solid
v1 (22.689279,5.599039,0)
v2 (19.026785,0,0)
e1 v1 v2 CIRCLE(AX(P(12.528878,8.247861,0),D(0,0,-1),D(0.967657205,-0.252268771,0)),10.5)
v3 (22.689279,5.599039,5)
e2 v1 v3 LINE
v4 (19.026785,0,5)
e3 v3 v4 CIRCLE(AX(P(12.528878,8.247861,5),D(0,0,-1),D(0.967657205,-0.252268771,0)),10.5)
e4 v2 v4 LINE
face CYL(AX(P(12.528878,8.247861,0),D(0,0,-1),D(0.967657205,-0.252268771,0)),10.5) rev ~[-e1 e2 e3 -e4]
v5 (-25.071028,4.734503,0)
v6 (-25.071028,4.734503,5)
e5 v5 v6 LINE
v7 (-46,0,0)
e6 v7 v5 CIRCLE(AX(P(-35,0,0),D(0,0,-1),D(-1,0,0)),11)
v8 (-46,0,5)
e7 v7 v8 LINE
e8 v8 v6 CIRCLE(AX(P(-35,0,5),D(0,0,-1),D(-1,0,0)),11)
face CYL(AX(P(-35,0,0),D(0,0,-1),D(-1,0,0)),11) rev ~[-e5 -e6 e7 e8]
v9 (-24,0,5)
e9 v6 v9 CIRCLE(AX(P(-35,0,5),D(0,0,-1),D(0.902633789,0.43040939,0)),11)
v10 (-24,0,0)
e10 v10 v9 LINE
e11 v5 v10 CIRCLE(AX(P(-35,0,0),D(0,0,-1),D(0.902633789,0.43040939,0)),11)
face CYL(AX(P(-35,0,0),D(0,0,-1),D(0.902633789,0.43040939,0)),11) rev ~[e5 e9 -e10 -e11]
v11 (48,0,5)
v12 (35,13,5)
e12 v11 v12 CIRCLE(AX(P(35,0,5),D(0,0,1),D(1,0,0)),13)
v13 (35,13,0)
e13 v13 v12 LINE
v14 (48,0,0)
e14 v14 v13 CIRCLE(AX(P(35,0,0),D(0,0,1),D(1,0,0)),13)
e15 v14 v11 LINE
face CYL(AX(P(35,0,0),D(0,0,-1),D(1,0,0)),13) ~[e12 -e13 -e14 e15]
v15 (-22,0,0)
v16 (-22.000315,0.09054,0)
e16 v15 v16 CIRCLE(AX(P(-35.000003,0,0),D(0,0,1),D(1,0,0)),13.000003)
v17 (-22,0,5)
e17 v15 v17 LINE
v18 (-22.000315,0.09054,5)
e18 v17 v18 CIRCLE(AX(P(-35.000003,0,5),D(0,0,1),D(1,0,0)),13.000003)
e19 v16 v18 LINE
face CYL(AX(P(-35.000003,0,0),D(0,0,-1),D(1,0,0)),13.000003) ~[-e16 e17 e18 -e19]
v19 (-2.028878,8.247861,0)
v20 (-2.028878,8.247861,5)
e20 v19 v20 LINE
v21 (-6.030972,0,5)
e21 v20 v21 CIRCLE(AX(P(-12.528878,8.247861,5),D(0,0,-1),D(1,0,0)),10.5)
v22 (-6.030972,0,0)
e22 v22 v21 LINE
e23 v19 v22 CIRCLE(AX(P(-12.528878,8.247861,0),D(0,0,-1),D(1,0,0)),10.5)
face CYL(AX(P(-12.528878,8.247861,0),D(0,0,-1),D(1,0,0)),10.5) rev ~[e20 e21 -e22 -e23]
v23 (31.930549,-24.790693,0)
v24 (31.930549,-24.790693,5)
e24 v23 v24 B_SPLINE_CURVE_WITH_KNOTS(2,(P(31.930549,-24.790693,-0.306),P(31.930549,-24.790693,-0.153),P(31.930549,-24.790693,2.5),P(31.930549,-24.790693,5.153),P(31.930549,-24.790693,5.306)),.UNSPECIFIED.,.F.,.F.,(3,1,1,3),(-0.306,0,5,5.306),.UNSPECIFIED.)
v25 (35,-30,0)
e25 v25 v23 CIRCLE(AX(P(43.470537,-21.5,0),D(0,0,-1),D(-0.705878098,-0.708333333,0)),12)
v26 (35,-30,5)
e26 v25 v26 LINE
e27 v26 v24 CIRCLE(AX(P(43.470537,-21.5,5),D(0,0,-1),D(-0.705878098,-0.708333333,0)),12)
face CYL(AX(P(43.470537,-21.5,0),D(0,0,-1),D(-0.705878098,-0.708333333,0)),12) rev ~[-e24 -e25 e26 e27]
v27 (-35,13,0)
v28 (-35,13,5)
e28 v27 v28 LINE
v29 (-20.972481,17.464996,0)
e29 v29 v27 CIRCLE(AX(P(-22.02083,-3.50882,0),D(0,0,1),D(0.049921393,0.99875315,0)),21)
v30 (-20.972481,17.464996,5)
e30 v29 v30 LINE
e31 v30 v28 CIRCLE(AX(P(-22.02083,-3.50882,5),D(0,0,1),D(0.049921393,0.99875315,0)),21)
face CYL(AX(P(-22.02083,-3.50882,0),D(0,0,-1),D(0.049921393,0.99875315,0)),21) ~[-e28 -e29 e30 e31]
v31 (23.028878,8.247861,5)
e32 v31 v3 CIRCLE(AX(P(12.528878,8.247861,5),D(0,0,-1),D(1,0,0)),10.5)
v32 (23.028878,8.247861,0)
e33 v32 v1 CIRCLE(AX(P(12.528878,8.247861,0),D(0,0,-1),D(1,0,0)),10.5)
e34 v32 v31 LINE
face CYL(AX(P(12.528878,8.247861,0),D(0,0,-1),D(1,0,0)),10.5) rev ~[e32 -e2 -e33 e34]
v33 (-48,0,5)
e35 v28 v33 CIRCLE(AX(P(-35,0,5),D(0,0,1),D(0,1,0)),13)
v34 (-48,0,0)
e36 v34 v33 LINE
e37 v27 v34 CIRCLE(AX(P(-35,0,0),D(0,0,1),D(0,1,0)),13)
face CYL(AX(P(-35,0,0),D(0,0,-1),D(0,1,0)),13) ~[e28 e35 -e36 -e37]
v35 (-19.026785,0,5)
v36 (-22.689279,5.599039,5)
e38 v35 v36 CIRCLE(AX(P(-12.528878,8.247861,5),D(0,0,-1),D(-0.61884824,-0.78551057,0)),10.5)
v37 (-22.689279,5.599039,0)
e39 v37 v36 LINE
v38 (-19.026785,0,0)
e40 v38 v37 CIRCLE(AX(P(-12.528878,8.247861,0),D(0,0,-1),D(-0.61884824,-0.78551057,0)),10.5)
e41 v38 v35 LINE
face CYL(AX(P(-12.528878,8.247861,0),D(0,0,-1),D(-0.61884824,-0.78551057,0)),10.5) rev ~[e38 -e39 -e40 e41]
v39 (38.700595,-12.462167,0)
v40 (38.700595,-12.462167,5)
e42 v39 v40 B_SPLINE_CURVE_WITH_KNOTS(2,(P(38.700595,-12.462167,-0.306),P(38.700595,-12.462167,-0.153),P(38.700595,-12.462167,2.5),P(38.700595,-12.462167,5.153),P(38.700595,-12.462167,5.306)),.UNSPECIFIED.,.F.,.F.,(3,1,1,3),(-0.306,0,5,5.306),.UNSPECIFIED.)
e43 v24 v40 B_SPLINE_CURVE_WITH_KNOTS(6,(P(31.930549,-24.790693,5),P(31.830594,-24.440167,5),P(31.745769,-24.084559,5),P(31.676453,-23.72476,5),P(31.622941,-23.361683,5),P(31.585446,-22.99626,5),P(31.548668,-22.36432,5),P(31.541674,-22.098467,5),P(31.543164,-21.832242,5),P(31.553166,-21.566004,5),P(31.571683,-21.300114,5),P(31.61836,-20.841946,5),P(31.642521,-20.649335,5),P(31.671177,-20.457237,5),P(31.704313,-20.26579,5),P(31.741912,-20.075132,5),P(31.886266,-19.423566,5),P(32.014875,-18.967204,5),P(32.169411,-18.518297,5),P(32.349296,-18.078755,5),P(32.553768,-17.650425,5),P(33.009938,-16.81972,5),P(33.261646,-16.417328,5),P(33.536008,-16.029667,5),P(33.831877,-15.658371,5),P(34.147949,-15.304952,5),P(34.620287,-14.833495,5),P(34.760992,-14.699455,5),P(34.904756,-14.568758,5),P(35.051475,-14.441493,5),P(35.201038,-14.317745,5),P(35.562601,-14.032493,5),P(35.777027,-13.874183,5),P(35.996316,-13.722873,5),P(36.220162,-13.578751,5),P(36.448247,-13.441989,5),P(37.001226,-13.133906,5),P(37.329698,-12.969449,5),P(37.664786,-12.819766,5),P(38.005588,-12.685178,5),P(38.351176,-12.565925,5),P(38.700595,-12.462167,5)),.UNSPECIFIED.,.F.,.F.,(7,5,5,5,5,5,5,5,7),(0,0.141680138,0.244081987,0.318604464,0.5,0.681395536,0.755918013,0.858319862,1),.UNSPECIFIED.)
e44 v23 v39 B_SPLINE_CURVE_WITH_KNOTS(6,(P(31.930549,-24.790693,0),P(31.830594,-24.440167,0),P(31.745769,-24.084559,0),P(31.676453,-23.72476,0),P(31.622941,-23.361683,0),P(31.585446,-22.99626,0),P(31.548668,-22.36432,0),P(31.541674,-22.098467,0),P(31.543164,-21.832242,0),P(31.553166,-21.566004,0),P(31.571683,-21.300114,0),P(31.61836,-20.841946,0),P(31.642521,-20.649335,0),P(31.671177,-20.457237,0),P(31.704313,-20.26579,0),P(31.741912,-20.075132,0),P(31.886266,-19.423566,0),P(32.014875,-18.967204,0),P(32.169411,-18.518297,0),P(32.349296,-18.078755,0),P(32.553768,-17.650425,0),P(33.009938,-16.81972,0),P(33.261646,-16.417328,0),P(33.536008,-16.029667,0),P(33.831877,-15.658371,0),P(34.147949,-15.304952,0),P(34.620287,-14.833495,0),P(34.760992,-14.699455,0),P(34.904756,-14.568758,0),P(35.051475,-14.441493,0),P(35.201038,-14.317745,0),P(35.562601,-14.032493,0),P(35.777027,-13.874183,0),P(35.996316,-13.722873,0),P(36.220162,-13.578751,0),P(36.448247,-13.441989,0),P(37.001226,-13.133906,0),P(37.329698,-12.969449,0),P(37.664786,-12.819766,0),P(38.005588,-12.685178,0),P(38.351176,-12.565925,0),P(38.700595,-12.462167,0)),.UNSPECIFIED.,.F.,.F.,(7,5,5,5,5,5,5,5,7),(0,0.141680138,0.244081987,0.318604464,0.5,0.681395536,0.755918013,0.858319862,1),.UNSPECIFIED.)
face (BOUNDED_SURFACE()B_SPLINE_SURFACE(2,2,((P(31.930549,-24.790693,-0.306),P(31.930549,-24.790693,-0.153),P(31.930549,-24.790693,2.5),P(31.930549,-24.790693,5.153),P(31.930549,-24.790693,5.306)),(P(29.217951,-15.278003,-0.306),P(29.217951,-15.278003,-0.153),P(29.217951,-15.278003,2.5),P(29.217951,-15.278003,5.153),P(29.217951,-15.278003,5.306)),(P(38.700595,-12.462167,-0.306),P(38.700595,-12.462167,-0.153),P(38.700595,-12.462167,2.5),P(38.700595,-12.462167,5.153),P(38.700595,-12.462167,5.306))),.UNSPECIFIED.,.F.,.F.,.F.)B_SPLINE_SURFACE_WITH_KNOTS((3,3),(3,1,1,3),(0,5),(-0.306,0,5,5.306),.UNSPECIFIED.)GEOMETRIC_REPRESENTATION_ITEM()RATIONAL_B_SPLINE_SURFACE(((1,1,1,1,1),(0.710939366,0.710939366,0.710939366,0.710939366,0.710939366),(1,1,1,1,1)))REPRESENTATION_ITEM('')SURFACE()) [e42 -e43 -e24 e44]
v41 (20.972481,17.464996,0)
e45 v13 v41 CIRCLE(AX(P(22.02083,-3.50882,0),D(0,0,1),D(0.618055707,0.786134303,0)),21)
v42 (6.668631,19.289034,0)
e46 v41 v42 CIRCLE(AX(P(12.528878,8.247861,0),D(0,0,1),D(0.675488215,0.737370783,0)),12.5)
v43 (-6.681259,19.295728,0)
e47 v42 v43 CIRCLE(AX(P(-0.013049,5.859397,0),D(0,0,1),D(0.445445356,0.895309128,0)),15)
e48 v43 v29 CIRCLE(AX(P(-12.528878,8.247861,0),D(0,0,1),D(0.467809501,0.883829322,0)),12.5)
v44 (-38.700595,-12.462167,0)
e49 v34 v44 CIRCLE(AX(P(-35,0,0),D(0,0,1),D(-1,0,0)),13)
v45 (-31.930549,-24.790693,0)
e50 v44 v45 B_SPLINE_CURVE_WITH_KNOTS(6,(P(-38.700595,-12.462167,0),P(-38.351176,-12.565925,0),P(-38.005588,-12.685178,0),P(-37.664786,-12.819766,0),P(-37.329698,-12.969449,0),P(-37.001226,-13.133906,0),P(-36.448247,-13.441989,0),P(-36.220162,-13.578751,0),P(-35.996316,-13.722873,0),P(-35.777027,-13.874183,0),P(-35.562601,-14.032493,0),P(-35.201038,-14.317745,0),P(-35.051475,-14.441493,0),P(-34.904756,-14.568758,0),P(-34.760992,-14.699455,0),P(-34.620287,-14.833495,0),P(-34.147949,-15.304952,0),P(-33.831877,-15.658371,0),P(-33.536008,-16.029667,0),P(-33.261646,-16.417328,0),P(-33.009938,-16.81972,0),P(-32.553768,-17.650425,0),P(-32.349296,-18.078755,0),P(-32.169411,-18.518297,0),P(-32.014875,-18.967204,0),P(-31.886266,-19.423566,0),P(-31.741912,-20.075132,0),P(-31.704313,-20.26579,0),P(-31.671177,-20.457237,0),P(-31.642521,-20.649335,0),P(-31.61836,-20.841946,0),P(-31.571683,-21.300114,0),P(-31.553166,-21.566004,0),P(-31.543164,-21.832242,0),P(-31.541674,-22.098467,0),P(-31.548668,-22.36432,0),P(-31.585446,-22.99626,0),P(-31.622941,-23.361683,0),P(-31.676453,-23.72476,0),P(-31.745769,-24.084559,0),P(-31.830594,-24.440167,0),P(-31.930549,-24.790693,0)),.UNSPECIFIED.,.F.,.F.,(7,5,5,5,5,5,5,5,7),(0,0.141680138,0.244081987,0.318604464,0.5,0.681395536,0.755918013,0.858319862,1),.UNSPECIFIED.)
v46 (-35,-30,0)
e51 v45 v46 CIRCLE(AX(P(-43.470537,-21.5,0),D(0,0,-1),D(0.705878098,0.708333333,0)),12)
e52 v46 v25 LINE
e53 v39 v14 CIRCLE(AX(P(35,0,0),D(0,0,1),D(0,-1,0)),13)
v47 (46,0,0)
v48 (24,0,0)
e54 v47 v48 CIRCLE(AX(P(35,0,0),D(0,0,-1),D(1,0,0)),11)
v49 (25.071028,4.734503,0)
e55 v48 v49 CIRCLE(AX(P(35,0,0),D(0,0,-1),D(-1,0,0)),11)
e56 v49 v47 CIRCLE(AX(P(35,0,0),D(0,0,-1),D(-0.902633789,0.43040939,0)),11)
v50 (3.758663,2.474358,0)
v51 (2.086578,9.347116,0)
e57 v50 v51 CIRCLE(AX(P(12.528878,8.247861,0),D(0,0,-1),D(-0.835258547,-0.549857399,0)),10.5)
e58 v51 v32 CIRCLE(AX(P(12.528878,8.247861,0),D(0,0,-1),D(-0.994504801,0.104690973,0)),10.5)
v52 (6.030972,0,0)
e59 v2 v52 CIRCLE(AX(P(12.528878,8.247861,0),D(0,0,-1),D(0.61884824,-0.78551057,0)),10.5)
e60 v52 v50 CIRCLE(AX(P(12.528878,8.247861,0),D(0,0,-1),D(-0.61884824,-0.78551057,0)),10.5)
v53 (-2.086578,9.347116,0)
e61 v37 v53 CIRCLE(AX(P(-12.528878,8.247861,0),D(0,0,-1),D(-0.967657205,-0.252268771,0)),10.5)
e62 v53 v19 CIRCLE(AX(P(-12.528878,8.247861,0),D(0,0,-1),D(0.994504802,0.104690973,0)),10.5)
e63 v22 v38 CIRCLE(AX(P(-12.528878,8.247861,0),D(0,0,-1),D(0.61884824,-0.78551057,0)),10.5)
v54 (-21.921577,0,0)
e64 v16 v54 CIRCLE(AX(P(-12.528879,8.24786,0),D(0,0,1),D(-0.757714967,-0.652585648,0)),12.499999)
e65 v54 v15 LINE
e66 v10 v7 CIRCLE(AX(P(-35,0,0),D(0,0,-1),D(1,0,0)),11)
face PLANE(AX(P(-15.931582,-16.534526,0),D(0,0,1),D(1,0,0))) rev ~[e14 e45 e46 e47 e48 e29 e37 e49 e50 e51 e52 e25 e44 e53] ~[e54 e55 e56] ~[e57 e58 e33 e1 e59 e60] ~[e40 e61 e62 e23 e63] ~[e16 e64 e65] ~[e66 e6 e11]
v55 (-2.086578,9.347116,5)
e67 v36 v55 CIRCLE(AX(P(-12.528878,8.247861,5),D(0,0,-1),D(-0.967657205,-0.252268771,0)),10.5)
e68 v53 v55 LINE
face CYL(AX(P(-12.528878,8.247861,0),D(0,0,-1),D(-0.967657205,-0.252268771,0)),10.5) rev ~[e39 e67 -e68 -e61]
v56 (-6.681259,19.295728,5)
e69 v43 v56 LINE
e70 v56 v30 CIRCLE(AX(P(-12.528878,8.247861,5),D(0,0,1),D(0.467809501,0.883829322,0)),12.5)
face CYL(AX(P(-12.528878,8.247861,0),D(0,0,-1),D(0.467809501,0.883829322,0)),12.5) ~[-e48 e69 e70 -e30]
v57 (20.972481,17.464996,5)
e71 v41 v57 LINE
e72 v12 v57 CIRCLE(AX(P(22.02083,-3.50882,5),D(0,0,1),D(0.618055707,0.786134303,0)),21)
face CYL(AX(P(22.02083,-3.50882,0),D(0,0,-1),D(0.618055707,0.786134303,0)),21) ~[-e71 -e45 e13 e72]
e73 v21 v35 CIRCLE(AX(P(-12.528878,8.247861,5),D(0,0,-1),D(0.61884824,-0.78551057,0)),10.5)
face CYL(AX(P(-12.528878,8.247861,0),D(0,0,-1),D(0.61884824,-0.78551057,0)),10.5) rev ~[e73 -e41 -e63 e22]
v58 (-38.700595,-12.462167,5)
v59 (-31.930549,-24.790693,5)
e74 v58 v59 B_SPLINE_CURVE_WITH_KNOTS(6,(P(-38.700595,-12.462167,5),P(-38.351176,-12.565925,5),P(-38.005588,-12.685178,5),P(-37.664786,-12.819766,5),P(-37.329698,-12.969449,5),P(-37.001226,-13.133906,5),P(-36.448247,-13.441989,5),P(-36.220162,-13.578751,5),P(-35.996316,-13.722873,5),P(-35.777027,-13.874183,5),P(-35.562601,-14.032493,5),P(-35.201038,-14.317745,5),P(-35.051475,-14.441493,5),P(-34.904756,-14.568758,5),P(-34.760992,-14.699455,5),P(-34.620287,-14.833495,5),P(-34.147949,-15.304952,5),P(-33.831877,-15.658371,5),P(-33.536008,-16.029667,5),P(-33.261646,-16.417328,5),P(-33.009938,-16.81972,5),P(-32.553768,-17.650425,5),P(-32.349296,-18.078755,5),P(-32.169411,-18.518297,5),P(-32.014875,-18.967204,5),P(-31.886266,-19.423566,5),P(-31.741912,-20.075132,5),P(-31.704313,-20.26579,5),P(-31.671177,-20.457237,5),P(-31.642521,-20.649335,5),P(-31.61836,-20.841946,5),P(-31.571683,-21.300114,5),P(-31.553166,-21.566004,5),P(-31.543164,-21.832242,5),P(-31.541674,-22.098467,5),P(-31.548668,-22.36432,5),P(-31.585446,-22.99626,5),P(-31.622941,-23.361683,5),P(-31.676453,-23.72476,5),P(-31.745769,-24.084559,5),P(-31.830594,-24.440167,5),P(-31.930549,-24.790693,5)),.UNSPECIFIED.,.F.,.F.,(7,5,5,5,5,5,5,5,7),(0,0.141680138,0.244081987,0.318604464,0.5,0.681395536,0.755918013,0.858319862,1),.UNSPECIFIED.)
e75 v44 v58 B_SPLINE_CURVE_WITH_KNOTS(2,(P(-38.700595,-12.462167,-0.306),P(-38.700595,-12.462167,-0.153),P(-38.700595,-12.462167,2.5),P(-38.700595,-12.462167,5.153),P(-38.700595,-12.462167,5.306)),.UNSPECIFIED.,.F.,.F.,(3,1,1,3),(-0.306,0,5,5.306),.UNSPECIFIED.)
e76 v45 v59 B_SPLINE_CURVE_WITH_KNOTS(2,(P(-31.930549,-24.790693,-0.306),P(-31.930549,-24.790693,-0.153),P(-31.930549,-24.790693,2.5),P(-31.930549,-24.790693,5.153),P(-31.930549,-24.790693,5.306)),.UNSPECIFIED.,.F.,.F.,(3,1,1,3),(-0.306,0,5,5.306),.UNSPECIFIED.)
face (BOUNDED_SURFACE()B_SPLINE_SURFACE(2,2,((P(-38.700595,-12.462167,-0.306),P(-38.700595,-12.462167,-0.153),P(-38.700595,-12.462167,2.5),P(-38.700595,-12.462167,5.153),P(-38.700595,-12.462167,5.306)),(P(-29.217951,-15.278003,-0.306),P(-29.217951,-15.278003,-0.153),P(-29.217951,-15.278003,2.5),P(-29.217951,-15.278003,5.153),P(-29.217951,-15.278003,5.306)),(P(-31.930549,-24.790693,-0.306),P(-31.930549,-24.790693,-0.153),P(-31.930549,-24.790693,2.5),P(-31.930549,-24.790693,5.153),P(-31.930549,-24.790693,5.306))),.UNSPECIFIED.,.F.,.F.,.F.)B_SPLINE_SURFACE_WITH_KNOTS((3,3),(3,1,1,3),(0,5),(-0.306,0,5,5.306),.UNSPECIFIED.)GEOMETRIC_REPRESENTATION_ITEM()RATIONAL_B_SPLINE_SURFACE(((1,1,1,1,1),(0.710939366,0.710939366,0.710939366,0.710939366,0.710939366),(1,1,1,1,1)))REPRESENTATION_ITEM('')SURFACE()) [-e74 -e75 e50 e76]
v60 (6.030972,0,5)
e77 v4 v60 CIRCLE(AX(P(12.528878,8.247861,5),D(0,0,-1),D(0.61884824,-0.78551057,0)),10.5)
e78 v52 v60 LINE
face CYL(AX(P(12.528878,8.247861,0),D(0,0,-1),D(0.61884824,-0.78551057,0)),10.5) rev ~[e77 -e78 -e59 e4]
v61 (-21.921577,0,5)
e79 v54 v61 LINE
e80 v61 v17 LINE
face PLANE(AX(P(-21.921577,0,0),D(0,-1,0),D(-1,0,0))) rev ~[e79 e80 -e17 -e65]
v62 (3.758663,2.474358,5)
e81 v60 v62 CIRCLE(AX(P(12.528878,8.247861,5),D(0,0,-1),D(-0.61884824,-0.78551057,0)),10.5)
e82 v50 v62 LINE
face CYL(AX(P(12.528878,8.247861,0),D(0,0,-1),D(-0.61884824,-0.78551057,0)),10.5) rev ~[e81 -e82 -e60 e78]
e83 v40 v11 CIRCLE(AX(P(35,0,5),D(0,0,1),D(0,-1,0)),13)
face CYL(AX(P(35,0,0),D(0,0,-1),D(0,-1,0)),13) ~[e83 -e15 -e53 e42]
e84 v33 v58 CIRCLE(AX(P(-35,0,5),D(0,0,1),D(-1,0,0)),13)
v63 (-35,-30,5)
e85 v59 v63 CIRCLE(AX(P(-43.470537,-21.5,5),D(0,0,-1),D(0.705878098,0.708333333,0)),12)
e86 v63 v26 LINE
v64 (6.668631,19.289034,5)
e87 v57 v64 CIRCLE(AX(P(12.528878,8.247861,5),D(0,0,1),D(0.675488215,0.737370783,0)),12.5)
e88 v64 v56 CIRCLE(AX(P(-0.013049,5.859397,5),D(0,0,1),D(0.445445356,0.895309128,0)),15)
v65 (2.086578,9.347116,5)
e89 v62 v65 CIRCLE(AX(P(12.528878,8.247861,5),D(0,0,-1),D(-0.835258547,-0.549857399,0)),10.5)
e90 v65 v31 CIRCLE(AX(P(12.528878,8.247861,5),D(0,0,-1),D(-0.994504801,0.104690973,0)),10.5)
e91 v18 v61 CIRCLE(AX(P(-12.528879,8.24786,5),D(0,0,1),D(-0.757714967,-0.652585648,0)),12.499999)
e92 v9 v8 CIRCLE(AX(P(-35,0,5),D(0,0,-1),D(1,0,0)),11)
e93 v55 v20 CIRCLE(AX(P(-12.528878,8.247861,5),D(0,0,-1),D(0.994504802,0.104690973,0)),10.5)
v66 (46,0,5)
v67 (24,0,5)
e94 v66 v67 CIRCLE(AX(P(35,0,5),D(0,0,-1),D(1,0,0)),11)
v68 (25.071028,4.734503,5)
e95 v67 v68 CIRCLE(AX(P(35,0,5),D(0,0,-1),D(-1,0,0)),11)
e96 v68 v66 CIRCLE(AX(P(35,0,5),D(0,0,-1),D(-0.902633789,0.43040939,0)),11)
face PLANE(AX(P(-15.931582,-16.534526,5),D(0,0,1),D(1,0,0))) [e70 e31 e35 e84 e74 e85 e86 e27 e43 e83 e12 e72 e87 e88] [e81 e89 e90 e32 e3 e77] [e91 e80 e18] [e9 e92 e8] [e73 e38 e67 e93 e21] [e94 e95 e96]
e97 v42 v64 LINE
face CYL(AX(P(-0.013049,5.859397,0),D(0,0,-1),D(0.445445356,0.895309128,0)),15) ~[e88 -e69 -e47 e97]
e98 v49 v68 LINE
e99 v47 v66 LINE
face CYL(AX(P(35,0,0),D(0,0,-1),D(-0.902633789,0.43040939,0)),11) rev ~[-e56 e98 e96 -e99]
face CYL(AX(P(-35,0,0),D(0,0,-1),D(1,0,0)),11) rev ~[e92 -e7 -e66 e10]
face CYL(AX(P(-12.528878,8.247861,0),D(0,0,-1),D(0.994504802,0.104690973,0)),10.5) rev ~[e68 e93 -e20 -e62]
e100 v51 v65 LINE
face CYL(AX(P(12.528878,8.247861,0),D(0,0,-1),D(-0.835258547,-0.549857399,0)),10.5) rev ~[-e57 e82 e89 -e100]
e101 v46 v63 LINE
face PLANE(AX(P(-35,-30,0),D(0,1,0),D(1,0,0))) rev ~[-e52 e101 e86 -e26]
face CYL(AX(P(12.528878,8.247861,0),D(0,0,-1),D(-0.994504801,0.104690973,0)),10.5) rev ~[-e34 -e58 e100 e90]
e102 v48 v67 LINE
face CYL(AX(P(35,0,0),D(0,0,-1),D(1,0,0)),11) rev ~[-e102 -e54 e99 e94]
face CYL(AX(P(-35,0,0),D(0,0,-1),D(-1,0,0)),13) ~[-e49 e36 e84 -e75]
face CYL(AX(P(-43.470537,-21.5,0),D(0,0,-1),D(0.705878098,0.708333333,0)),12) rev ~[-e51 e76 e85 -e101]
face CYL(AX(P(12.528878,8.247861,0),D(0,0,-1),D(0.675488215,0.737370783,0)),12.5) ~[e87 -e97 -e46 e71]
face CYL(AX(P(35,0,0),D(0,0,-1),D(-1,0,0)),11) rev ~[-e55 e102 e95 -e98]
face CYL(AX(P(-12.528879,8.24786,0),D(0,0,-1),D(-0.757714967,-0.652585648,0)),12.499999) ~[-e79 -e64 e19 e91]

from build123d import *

# Parameters (mm, degrees)
F1_DEPTH = 5
F2_R     = 10


with BuildPart() as f1:
    # F0 (on Top) → F1 (new body)
    with BuildSketch(Plane.XY):
        with BuildLine():
            Line((-21.9215769197, 0), (-22, 0))
            ThreePointArc((-22, 0), (-25.8076118446, -9.1923881554), (-35, -13))
            ThreePointArc((-35, -13), (-31.470537173, -21.5), (-35, -30))
            Line((-35, -30), (0, -30))
            Line((0, -30), (0, 0))
            Line((0, 0), (-3.1361794935, 0))
            ThreePointArc((-3.1361794935, 0), (-12.5288782066, -4.2521390116), (-21.9215769197, 0))
        make_face()
        with BuildLine():
            Line((3.1361794935, 0), (0, 0))
            Line((0, 0), (0, -30))
            Line((0, -30), (35, -30))
            ThreePointArc((35, -30), (31.470537173, -21.5), (35, -13))
            ThreePointArc((35, -13), (25.8076118446, -9.1923881554), (22, 0))
            Line((22, 0), (21.9215769197, 0))
            ThreePointArc((21.9215769197, 0), (12.5288782066, -4.2521390116), (3.1361794935, 0))
        make_face()
        with BuildLine():
            Line((6.0309716887, 0), (3.1361794935, 0))
            ThreePointArc((3.1361794935, 0), (12.5288782066, -4.2521390116), (21.9215769197, 0))
            Line((21.9215769197, 0), (19.0267847245, 0))
            ThreePointArc((19.0267847245, 0), (12.5288782066, -2.2521390116), (6.0309716887, 0))
        make_face()
        with BuildLine():
            ThreePointArc((22, 0), (25.8076118446, -9.1923881554), (35, -13))
            ThreePointArc((35, -13), (44.1923881554, -9.1923881554), (48, 0))
            Line((48, 0), (46, 0))
            ThreePointArc((46, 0), (35, -11), (24, 0))
            Line((24, 0), (22, 0))
        make_face()
        with BuildLine():
            ThreePointArc((22.0003152946, 0.0905403813), (22.0000788239, 0.0452704651), (22, 0))
            Line((22, 0), (24, 0))
            ThreePointArc((24, 0), (24.2710977156, 2.427067319), (25.071028322, 4.7345032915))
            ThreePointArc((25.071028322, 4.7345032915), (24.8247656549, 4.828439536), (24.5781510368, 4.9214478657))
            ThreePointArc((24.5781510368, 4.9214478657), (23.5570084029, 2.3631057367), (22.0003152946, 0.0905403813))
        make_face()
        with BuildLine():
            Line((46, 0), (48, 0))
            ThreePointArc((48, 0), (44.1923881554, 9.1923881554), (35, 13))
            ThreePointArc((35, 13), (29.4968686843, 11.777756396), (25.0285322998, 8.3408531881))
            ThreePointArc((25.0285322998, 8.3408531881), (25.0287917296, 8.2943574099), (25.0288782066, 8.2478609884))
            ThreePointArc((25.0288782066, 8.2478609884), (24.9156838961, 6.5694555514), (24.5781510368, 4.9214478657))
            ThreePointArc((24.5781510368, 4.9214478657), (24.8247656549, 4.828439536), (25.071028322, 4.7345032915))
            ThreePointArc((25.071028322, 4.7345032915), (37.427067319, 10.7289022844), (46, 0))
        make_face()
        with BuildLine():
            ThreePointArc((4.0852755238, 17.4649957783), (1.3274413149, 13.7956363589), (0.0800875764, 9.3781759206))
            ThreePointArc((0.0800875764, 9.3781759206), (1.0834439902, 9.3698365837), (2.0865777909, 9.3471162034))
            ThreePointArc((2.0865777909, 9.3471162034), (13.0792624519, 18.7334261703), (23.0288782066, 8.2478609884))
            ThreePointArc((23.0288782066, 8.2478609884), (22.9436323297, 6.9126094932), (22.6892788627, 5.5990388902))
            ThreePointArc((22.6892788627, 5.5990388902), (22.9381719558, 5.5132371757), (23.1867405922, 5.4264999921))
            ThreePointArc((23.1867405922, 5.4264999921), (24.0105984044, 6.9450019849), (25.0285322998, 8.3408531881))
            ThreePointArc((25.0285322998, 8.3408531881), (23.9511150978, 13.3255085147), (20.9724808894, 17.4649957783))
            ThreePointArc((20.9724808894, 17.4649957783), (14.1100835277, 20.6474492773), (6.6686309887, 19.2890340486))
            ThreePointArc((6.6686309887, 19.2890340486), (5.3190370573, 18.4590406755), (4.0852755238, 17.4649957783))
        make_face()
        with BuildLine():
            ThreePointArc((0.0800875764, 9.3781759206), (0.4046589524, 5.2059360263), (2.0881463678, 1.3746434981))
            Line((2.0881463678, 1.3746434981), (3.758663462, 2.4743582965))
            ThreePointArc((3.758663462, 2.4743582965), (2.3264821641, 5.7657016479), (2.0865777909, 9.3471162034))
            ThreePointArc((2.0865777909, 9.3471162034), (1.0834439902, 9.3698365837), (0.0800875764, 9.3781759206))
        make_face()
        with BuildLine():
            ThreePointArc((2.0881463678, 1.3746434981), (2.5883725328, 0.6691838645), (3.1361794935, 0))
            Line((3.1361794935, 0), (6.0309716887, 0))
            ThreePointArc((6.0309716887, 0), (4.7952184024, 1.1457130011), (3.758663462, 2.4743582965))
            Line((3.758663462, 2.4743582965), (2.0881463678, 1.3746434981))
        make_face()
        with BuildLine():
            Line((19.0267847245, 0), (21.9215769197, 0))
            ThreePointArc((21.9215769197, 0), (21.961054746, 0.0451757129), (22.0003152946, 0.0905403813))
            ThreePointArc((22.0003152946, 0.0905403813), (22.3098989313, 2.8215837515), (23.1867405922, 5.4264999921))
            ThreePointArc((23.1867405922, 5.4264999921), (22.9381719558, 5.5132371757), (22.6892788627, 5.5990388902))
            ThreePointArc((22.6892788627, 5.5990388902), (21.3159202914, 2.500001265), (19.0267847245, 0))
        make_face()
        with BuildLine():
            ThreePointArc((23.1867405922, 5.4264999921), (22.3098989313, 2.8215837515), (22.0003152946, 0.0905403813))
            ThreePointArc((22.0003152946, 0.0905403813), (23.5570084029, 2.3631057367), (24.5781510368, 4.9214478657))
            ThreePointArc((24.5781510368, 4.9214478657), (23.8837808459, 5.1776519188), (23.1867405922, 5.4264999921))
        make_face()
        with BuildLine():
            ThreePointArc((23.1867405922, 5.4264999921), (23.8837808459, 5.1776519188), (24.5781510368, 4.9214478657))
            ThreePointArc((24.5781510368, 4.9214478657), (24.9156838961, 6.5694555514), (25.0288782066, 8.2478609884))
            ThreePointArc((25.0288782066, 8.2478609884), (25.0287917296, 8.2943574099), (25.0285322998, 8.3408531881))
            ThreePointArc((25.0285322998, 8.3408531881), (24.0105984044, 6.9450019849), (23.1867405922, 5.4264999921))
        make_face()
        with BuildLine():
            ThreePointArc((22.0003152946, 0.0905403813), (21.961054746, 0.0451757129), (21.9215769197, 0))
            Line((21.9215769197, 0), (22, 0))
            ThreePointArc((22, 0), (22.0000788239, 0.0452704651), (22.0003152946, 0.0905403813))
        make_face()
        with BuildLine():
            ThreePointArc((-0.0288782066, 8.2478609884), (-0.8314696493, 3.8409762562), (-3.1361794935, 0))
            Line((-3.1361794935, 0), (0, 0))
            Line((0, 0), (0, 9.3782217351))
            ThreePointArc((0, 9.3782217351), (-0.0400437948, 9.3782102815), (-0.0800875764, 9.3781759206))
            ThreePointArc((-0.0800875764, 9.3781759206), (-0.0416871118, 8.8135981725), (-0.0288782066, 8.2478609884))
        make_face()
        with BuildLine():
            Line((0, 9.3782217351), (0, 0))
            Line((0, 0), (2.0881463678, 1.3746434981))
            ThreePointArc((2.0881463678, 1.3746434981), (0.4046589524, 5.2059360263), (0.0800875764, 9.3781759206))
            ThreePointArc((0.0800875764, 9.3781759206), (0.0400437948, 9.3782102815), (0, 9.3782217351))
        make_face()
        with BuildLine():
            Line((2.0881463678, 1.3746434981), (0, 0))
            Line((0, 0), (3.1361794935, 0))
            ThreePointArc((3.1361794935, 0), (2.5883725328, 0.6691838645), (2.0881463678, 1.3746434981))
        make_face()
        with BuildLine():
            Line((-6.0309716887, 0), (-3.1361794935, 0))
            ThreePointArc((-3.1361794935, 0), (-0.8314696493, 3.8409762562), (-0.0288782066, 8.2478609884))
            ThreePointArc((-0.0288782066, 8.2478609884), (-0.0416871118, 8.8135981725), (-0.0800875764, 9.3781759206))
            ThreePointArc((-0.0800875764, 9.3781759206), (-1.0834439902, 9.3698365837), (-2.0865777909, 9.3471162034))
            ThreePointArc((-2.0865777909, 9.3471162034), (-2.0433130248, 8.7982452337), (-2.0288782066, 8.2478609884))
            ThreePointArc((-2.0288782066, 8.2478609884), (-3.0822381045, 3.6640862578), (-6.0309716887, 0))
        make_face()
        with BuildLine():
            Line((-19.0267847245, 0), (-21.9215769197, 0))
            ThreePointArc((-21.9215769197, 0), (-12.5288782066, -4.2521390116), (-3.1361794935, 0))
            Line((-3.1361794935, 0), (-6.0309716887, 0))
            ThreePointArc((-6.0309716887, 0), (-12.5288782066, -2.2521390116), (-19.0267847245, 0))
        make_face()
        with BuildLine():
            ThreePointArc((-25.0285322998, 8.3408531881), (-24.0105984044, 6.9450019849), (-23.1867405922, 5.4264999921))
            ThreePointArc((-23.1867405922, 5.4264999921), (-22.9381719558, 5.5132371757), (-22.6892788627, 5.5990388902))
            ThreePointArc((-22.6892788627, 5.5990388902), (-14.4082099376, 18.5783068764), (-2.0865777909, 9.3471162034))
            ThreePointArc((-2.0865777909, 9.3471162034), (-1.0834439902, 9.3698365837), (-0.0800875764, 9.3781759206))
            ThreePointArc((-0.0800875764, 9.3781759206), (-1.3274413149, 13.7956363589), (-4.0852755238, 17.4649957783))
            ThreePointArc((-4.0852755238, 17.4649957783), (-5.3248760335, 18.4631609199), (-6.6812594387, 19.295727513))
            ThreePointArc((-6.6812594387, 19.295727513), (-14.1171721947, 20.6465432655), (-20.9724808894, 17.4649957783))
            ThreePointArc((-20.9724808894, 17.4649957783), (-23.9511150978, 13.3255085147), (-25.0285322998, 8.3408531881))
        make_face()
        with BuildLine():
            ThreePointArc((-22.0003152946, 0.0905403813), (-21.961054746, 0.0451757129), (-21.9215769197, 0))
            Line((-21.9215769197, 0), (-19.0267847245, 0))
            ThreePointArc((-19.0267847245, 0), (-21.3159202914, 2.500001265), (-22.6892788627, 5.5990388902))
            ThreePointArc((-22.6892788627, 5.5990388902), (-22.9381719558, 5.5132371757), (-23.1867405922, 5.4264999921))
            ThreePointArc((-23.1867405922, 5.4264999921), (-22.3098989313, 2.8215837515), (-22.0003152946, 0.0905403813))
        make_face()
        with BuildLine():
            ThreePointArc((-24.5781510368, 4.9214478657), (-23.5570084029, 2.3631057367), (-22.0003152946, 0.0905403813))
            ThreePointArc((-22.0003152946, 0.0905403813), (-22.3098989313, 2.8215837515), (-23.1867405922, 5.4264999921))
            ThreePointArc((-23.1867405922, 5.4264999921), (-23.8837808459, 5.1776519188), (-24.5781510368, 4.9214478657))
        make_face()
        with BuildLine():
            ThreePointArc((-24.5781510368, 4.9214478657), (-23.8837808459, 5.1776519188), (-23.1867405922, 5.4264999921))
            ThreePointArc((-23.1867405922, 5.4264999921), (-24.0105984044, 6.9450019849), (-25.0285322998, 8.3408531881))
            ThreePointArc((-25.0285322998, 8.3408531881), (-24.9218413899, 6.6155425339), (-24.5781510368, 4.9214478657))
        make_face()
        with BuildLine():
            ThreePointArc((-46, 0), (-37.427067319, 10.7289022844), (-25.071028322, 4.7345032915))
            ThreePointArc((-25.071028322, 4.7345032915), (-24.8247656549, 4.828439536), (-24.5781510368, 4.9214478657))
            ThreePointArc((-24.5781510368, 4.9214478657), (-24.9218413899, 6.6155425339), (-25.0285322998, 8.3408531881))
            ThreePointArc((-25.0285322998, 8.3408531881), (-29.4968686843, 11.777756396), (-35, 13))
            ThreePointArc((-35, 13), (-44.1923881554, 9.1923881554), (-48, 0))
            Line((-48, 0), (-46, 0))
        make_face()
        with BuildLine():
            ThreePointArc((-35, -13), (-25.8076118446, -9.1923881554), (-22, 0))
            Line((-22, 0), (-24, 0))
            ThreePointArc((-24, 0), (-35, -11), (-46, 0))
            Line((-46, 0), (-48, 0))
            ThreePointArc((-48, 0), (-44.1923881554, -9.1923881554), (-35, -13))
        make_face()
        with BuildLine():
            Line((-24, 0), (-22, 0))
            ThreePointArc((-22, 0), (-22.0000788239, 0.0452704651), (-22.0003152946, 0.0905403813))
            ThreePointArc((-22.0003152946, 0.0905403813), (-23.5570084029, 2.3631057367), (-24.5781510368, 4.9214478657))
            ThreePointArc((-24.5781510368, 4.9214478657), (-24.8247656549, 4.828439536), (-25.071028322, 4.7345032915))
            ThreePointArc((-25.071028322, 4.7345032915), (-24.2710977156, 2.427067319), (-24, 0))
        make_face()
        with BuildLine():
            ThreePointArc((-0.0800875764, 9.3781759206), (-0.0400437948, 9.3782102815), (0, 9.3782217351))
            ThreePointArc((0, 9.3782217351), (0.0400437948, 9.3782102815), (0.0800875764, 9.3781759206))
            ThreePointArc((0.0800875764, 9.3781759206), (1.3274413149, 13.7956363589), (4.0852755238, 17.4649957783))
            ThreePointArc((4.0852755238, 17.4649957783), (0, 18.0320292124), (-4.0852755238, 17.4649957783))
            ThreePointArc((-4.0852755238, 17.4649957783), (-1.3274413149, 13.7956363589), (-0.0800875764, 9.3781759206))
        make_face()
        with BuildLine():
            ThreePointArc((35, 13), (28.3903016202, 16.5019225745), (20.9724808894, 17.4649957783))
            ThreePointArc((20.9724808894, 17.4649957783), (23.9511150978, 13.3255085147), (25.0285322998, 8.3408531881))
            ThreePointArc((25.0285322998, 8.3408531881), (29.4968686843, 11.777756396), (35, 13))
        make_face()
        with BuildLine():
            ThreePointArc((-20.9724808894, 17.4649957783), (-28.3903016202, 16.5019225745), (-35, 13))
            ThreePointArc((-35, 13), (-29.4968686843, 11.777756396), (-25.0285322998, 8.3408531881))
            ThreePointArc((-25.0285322998, 8.3408531881), (-23.9511150978, 13.3255085147), (-20.9724808894, 17.4649957783))
        make_face()
        with BuildLine():
            ThreePointArc((-6.6812594387, 19.295727513), (-5.3248760335, 18.4631609199), (-4.0852755238, 17.4649957783))
            ThreePointArc((-4.0852755238, 17.4649957783), (0, 18.0320292124), (4.0852755238, 17.4649957783))
            ThreePointArc((4.0852755238, 17.4649957783), (5.3190370573, 18.4590406755), (6.6686309887, 19.2890340486))
            ThreePointArc((6.6686309887, 19.2890340486), (-0.0055285439, 20.859395242), (-6.6812594387, 19.295727513))
        make_face()
    extrude(amount=F1_DEPTH)

    # F2
    f2_edges = [f1.edges().sort_by_distance(p)[0] for p in [
        (-35, -13, 2.5),
        (35, -13, 2.5),
    ]]
    fillet(f2_edges, radius=F2_R)


solid = f1.part
